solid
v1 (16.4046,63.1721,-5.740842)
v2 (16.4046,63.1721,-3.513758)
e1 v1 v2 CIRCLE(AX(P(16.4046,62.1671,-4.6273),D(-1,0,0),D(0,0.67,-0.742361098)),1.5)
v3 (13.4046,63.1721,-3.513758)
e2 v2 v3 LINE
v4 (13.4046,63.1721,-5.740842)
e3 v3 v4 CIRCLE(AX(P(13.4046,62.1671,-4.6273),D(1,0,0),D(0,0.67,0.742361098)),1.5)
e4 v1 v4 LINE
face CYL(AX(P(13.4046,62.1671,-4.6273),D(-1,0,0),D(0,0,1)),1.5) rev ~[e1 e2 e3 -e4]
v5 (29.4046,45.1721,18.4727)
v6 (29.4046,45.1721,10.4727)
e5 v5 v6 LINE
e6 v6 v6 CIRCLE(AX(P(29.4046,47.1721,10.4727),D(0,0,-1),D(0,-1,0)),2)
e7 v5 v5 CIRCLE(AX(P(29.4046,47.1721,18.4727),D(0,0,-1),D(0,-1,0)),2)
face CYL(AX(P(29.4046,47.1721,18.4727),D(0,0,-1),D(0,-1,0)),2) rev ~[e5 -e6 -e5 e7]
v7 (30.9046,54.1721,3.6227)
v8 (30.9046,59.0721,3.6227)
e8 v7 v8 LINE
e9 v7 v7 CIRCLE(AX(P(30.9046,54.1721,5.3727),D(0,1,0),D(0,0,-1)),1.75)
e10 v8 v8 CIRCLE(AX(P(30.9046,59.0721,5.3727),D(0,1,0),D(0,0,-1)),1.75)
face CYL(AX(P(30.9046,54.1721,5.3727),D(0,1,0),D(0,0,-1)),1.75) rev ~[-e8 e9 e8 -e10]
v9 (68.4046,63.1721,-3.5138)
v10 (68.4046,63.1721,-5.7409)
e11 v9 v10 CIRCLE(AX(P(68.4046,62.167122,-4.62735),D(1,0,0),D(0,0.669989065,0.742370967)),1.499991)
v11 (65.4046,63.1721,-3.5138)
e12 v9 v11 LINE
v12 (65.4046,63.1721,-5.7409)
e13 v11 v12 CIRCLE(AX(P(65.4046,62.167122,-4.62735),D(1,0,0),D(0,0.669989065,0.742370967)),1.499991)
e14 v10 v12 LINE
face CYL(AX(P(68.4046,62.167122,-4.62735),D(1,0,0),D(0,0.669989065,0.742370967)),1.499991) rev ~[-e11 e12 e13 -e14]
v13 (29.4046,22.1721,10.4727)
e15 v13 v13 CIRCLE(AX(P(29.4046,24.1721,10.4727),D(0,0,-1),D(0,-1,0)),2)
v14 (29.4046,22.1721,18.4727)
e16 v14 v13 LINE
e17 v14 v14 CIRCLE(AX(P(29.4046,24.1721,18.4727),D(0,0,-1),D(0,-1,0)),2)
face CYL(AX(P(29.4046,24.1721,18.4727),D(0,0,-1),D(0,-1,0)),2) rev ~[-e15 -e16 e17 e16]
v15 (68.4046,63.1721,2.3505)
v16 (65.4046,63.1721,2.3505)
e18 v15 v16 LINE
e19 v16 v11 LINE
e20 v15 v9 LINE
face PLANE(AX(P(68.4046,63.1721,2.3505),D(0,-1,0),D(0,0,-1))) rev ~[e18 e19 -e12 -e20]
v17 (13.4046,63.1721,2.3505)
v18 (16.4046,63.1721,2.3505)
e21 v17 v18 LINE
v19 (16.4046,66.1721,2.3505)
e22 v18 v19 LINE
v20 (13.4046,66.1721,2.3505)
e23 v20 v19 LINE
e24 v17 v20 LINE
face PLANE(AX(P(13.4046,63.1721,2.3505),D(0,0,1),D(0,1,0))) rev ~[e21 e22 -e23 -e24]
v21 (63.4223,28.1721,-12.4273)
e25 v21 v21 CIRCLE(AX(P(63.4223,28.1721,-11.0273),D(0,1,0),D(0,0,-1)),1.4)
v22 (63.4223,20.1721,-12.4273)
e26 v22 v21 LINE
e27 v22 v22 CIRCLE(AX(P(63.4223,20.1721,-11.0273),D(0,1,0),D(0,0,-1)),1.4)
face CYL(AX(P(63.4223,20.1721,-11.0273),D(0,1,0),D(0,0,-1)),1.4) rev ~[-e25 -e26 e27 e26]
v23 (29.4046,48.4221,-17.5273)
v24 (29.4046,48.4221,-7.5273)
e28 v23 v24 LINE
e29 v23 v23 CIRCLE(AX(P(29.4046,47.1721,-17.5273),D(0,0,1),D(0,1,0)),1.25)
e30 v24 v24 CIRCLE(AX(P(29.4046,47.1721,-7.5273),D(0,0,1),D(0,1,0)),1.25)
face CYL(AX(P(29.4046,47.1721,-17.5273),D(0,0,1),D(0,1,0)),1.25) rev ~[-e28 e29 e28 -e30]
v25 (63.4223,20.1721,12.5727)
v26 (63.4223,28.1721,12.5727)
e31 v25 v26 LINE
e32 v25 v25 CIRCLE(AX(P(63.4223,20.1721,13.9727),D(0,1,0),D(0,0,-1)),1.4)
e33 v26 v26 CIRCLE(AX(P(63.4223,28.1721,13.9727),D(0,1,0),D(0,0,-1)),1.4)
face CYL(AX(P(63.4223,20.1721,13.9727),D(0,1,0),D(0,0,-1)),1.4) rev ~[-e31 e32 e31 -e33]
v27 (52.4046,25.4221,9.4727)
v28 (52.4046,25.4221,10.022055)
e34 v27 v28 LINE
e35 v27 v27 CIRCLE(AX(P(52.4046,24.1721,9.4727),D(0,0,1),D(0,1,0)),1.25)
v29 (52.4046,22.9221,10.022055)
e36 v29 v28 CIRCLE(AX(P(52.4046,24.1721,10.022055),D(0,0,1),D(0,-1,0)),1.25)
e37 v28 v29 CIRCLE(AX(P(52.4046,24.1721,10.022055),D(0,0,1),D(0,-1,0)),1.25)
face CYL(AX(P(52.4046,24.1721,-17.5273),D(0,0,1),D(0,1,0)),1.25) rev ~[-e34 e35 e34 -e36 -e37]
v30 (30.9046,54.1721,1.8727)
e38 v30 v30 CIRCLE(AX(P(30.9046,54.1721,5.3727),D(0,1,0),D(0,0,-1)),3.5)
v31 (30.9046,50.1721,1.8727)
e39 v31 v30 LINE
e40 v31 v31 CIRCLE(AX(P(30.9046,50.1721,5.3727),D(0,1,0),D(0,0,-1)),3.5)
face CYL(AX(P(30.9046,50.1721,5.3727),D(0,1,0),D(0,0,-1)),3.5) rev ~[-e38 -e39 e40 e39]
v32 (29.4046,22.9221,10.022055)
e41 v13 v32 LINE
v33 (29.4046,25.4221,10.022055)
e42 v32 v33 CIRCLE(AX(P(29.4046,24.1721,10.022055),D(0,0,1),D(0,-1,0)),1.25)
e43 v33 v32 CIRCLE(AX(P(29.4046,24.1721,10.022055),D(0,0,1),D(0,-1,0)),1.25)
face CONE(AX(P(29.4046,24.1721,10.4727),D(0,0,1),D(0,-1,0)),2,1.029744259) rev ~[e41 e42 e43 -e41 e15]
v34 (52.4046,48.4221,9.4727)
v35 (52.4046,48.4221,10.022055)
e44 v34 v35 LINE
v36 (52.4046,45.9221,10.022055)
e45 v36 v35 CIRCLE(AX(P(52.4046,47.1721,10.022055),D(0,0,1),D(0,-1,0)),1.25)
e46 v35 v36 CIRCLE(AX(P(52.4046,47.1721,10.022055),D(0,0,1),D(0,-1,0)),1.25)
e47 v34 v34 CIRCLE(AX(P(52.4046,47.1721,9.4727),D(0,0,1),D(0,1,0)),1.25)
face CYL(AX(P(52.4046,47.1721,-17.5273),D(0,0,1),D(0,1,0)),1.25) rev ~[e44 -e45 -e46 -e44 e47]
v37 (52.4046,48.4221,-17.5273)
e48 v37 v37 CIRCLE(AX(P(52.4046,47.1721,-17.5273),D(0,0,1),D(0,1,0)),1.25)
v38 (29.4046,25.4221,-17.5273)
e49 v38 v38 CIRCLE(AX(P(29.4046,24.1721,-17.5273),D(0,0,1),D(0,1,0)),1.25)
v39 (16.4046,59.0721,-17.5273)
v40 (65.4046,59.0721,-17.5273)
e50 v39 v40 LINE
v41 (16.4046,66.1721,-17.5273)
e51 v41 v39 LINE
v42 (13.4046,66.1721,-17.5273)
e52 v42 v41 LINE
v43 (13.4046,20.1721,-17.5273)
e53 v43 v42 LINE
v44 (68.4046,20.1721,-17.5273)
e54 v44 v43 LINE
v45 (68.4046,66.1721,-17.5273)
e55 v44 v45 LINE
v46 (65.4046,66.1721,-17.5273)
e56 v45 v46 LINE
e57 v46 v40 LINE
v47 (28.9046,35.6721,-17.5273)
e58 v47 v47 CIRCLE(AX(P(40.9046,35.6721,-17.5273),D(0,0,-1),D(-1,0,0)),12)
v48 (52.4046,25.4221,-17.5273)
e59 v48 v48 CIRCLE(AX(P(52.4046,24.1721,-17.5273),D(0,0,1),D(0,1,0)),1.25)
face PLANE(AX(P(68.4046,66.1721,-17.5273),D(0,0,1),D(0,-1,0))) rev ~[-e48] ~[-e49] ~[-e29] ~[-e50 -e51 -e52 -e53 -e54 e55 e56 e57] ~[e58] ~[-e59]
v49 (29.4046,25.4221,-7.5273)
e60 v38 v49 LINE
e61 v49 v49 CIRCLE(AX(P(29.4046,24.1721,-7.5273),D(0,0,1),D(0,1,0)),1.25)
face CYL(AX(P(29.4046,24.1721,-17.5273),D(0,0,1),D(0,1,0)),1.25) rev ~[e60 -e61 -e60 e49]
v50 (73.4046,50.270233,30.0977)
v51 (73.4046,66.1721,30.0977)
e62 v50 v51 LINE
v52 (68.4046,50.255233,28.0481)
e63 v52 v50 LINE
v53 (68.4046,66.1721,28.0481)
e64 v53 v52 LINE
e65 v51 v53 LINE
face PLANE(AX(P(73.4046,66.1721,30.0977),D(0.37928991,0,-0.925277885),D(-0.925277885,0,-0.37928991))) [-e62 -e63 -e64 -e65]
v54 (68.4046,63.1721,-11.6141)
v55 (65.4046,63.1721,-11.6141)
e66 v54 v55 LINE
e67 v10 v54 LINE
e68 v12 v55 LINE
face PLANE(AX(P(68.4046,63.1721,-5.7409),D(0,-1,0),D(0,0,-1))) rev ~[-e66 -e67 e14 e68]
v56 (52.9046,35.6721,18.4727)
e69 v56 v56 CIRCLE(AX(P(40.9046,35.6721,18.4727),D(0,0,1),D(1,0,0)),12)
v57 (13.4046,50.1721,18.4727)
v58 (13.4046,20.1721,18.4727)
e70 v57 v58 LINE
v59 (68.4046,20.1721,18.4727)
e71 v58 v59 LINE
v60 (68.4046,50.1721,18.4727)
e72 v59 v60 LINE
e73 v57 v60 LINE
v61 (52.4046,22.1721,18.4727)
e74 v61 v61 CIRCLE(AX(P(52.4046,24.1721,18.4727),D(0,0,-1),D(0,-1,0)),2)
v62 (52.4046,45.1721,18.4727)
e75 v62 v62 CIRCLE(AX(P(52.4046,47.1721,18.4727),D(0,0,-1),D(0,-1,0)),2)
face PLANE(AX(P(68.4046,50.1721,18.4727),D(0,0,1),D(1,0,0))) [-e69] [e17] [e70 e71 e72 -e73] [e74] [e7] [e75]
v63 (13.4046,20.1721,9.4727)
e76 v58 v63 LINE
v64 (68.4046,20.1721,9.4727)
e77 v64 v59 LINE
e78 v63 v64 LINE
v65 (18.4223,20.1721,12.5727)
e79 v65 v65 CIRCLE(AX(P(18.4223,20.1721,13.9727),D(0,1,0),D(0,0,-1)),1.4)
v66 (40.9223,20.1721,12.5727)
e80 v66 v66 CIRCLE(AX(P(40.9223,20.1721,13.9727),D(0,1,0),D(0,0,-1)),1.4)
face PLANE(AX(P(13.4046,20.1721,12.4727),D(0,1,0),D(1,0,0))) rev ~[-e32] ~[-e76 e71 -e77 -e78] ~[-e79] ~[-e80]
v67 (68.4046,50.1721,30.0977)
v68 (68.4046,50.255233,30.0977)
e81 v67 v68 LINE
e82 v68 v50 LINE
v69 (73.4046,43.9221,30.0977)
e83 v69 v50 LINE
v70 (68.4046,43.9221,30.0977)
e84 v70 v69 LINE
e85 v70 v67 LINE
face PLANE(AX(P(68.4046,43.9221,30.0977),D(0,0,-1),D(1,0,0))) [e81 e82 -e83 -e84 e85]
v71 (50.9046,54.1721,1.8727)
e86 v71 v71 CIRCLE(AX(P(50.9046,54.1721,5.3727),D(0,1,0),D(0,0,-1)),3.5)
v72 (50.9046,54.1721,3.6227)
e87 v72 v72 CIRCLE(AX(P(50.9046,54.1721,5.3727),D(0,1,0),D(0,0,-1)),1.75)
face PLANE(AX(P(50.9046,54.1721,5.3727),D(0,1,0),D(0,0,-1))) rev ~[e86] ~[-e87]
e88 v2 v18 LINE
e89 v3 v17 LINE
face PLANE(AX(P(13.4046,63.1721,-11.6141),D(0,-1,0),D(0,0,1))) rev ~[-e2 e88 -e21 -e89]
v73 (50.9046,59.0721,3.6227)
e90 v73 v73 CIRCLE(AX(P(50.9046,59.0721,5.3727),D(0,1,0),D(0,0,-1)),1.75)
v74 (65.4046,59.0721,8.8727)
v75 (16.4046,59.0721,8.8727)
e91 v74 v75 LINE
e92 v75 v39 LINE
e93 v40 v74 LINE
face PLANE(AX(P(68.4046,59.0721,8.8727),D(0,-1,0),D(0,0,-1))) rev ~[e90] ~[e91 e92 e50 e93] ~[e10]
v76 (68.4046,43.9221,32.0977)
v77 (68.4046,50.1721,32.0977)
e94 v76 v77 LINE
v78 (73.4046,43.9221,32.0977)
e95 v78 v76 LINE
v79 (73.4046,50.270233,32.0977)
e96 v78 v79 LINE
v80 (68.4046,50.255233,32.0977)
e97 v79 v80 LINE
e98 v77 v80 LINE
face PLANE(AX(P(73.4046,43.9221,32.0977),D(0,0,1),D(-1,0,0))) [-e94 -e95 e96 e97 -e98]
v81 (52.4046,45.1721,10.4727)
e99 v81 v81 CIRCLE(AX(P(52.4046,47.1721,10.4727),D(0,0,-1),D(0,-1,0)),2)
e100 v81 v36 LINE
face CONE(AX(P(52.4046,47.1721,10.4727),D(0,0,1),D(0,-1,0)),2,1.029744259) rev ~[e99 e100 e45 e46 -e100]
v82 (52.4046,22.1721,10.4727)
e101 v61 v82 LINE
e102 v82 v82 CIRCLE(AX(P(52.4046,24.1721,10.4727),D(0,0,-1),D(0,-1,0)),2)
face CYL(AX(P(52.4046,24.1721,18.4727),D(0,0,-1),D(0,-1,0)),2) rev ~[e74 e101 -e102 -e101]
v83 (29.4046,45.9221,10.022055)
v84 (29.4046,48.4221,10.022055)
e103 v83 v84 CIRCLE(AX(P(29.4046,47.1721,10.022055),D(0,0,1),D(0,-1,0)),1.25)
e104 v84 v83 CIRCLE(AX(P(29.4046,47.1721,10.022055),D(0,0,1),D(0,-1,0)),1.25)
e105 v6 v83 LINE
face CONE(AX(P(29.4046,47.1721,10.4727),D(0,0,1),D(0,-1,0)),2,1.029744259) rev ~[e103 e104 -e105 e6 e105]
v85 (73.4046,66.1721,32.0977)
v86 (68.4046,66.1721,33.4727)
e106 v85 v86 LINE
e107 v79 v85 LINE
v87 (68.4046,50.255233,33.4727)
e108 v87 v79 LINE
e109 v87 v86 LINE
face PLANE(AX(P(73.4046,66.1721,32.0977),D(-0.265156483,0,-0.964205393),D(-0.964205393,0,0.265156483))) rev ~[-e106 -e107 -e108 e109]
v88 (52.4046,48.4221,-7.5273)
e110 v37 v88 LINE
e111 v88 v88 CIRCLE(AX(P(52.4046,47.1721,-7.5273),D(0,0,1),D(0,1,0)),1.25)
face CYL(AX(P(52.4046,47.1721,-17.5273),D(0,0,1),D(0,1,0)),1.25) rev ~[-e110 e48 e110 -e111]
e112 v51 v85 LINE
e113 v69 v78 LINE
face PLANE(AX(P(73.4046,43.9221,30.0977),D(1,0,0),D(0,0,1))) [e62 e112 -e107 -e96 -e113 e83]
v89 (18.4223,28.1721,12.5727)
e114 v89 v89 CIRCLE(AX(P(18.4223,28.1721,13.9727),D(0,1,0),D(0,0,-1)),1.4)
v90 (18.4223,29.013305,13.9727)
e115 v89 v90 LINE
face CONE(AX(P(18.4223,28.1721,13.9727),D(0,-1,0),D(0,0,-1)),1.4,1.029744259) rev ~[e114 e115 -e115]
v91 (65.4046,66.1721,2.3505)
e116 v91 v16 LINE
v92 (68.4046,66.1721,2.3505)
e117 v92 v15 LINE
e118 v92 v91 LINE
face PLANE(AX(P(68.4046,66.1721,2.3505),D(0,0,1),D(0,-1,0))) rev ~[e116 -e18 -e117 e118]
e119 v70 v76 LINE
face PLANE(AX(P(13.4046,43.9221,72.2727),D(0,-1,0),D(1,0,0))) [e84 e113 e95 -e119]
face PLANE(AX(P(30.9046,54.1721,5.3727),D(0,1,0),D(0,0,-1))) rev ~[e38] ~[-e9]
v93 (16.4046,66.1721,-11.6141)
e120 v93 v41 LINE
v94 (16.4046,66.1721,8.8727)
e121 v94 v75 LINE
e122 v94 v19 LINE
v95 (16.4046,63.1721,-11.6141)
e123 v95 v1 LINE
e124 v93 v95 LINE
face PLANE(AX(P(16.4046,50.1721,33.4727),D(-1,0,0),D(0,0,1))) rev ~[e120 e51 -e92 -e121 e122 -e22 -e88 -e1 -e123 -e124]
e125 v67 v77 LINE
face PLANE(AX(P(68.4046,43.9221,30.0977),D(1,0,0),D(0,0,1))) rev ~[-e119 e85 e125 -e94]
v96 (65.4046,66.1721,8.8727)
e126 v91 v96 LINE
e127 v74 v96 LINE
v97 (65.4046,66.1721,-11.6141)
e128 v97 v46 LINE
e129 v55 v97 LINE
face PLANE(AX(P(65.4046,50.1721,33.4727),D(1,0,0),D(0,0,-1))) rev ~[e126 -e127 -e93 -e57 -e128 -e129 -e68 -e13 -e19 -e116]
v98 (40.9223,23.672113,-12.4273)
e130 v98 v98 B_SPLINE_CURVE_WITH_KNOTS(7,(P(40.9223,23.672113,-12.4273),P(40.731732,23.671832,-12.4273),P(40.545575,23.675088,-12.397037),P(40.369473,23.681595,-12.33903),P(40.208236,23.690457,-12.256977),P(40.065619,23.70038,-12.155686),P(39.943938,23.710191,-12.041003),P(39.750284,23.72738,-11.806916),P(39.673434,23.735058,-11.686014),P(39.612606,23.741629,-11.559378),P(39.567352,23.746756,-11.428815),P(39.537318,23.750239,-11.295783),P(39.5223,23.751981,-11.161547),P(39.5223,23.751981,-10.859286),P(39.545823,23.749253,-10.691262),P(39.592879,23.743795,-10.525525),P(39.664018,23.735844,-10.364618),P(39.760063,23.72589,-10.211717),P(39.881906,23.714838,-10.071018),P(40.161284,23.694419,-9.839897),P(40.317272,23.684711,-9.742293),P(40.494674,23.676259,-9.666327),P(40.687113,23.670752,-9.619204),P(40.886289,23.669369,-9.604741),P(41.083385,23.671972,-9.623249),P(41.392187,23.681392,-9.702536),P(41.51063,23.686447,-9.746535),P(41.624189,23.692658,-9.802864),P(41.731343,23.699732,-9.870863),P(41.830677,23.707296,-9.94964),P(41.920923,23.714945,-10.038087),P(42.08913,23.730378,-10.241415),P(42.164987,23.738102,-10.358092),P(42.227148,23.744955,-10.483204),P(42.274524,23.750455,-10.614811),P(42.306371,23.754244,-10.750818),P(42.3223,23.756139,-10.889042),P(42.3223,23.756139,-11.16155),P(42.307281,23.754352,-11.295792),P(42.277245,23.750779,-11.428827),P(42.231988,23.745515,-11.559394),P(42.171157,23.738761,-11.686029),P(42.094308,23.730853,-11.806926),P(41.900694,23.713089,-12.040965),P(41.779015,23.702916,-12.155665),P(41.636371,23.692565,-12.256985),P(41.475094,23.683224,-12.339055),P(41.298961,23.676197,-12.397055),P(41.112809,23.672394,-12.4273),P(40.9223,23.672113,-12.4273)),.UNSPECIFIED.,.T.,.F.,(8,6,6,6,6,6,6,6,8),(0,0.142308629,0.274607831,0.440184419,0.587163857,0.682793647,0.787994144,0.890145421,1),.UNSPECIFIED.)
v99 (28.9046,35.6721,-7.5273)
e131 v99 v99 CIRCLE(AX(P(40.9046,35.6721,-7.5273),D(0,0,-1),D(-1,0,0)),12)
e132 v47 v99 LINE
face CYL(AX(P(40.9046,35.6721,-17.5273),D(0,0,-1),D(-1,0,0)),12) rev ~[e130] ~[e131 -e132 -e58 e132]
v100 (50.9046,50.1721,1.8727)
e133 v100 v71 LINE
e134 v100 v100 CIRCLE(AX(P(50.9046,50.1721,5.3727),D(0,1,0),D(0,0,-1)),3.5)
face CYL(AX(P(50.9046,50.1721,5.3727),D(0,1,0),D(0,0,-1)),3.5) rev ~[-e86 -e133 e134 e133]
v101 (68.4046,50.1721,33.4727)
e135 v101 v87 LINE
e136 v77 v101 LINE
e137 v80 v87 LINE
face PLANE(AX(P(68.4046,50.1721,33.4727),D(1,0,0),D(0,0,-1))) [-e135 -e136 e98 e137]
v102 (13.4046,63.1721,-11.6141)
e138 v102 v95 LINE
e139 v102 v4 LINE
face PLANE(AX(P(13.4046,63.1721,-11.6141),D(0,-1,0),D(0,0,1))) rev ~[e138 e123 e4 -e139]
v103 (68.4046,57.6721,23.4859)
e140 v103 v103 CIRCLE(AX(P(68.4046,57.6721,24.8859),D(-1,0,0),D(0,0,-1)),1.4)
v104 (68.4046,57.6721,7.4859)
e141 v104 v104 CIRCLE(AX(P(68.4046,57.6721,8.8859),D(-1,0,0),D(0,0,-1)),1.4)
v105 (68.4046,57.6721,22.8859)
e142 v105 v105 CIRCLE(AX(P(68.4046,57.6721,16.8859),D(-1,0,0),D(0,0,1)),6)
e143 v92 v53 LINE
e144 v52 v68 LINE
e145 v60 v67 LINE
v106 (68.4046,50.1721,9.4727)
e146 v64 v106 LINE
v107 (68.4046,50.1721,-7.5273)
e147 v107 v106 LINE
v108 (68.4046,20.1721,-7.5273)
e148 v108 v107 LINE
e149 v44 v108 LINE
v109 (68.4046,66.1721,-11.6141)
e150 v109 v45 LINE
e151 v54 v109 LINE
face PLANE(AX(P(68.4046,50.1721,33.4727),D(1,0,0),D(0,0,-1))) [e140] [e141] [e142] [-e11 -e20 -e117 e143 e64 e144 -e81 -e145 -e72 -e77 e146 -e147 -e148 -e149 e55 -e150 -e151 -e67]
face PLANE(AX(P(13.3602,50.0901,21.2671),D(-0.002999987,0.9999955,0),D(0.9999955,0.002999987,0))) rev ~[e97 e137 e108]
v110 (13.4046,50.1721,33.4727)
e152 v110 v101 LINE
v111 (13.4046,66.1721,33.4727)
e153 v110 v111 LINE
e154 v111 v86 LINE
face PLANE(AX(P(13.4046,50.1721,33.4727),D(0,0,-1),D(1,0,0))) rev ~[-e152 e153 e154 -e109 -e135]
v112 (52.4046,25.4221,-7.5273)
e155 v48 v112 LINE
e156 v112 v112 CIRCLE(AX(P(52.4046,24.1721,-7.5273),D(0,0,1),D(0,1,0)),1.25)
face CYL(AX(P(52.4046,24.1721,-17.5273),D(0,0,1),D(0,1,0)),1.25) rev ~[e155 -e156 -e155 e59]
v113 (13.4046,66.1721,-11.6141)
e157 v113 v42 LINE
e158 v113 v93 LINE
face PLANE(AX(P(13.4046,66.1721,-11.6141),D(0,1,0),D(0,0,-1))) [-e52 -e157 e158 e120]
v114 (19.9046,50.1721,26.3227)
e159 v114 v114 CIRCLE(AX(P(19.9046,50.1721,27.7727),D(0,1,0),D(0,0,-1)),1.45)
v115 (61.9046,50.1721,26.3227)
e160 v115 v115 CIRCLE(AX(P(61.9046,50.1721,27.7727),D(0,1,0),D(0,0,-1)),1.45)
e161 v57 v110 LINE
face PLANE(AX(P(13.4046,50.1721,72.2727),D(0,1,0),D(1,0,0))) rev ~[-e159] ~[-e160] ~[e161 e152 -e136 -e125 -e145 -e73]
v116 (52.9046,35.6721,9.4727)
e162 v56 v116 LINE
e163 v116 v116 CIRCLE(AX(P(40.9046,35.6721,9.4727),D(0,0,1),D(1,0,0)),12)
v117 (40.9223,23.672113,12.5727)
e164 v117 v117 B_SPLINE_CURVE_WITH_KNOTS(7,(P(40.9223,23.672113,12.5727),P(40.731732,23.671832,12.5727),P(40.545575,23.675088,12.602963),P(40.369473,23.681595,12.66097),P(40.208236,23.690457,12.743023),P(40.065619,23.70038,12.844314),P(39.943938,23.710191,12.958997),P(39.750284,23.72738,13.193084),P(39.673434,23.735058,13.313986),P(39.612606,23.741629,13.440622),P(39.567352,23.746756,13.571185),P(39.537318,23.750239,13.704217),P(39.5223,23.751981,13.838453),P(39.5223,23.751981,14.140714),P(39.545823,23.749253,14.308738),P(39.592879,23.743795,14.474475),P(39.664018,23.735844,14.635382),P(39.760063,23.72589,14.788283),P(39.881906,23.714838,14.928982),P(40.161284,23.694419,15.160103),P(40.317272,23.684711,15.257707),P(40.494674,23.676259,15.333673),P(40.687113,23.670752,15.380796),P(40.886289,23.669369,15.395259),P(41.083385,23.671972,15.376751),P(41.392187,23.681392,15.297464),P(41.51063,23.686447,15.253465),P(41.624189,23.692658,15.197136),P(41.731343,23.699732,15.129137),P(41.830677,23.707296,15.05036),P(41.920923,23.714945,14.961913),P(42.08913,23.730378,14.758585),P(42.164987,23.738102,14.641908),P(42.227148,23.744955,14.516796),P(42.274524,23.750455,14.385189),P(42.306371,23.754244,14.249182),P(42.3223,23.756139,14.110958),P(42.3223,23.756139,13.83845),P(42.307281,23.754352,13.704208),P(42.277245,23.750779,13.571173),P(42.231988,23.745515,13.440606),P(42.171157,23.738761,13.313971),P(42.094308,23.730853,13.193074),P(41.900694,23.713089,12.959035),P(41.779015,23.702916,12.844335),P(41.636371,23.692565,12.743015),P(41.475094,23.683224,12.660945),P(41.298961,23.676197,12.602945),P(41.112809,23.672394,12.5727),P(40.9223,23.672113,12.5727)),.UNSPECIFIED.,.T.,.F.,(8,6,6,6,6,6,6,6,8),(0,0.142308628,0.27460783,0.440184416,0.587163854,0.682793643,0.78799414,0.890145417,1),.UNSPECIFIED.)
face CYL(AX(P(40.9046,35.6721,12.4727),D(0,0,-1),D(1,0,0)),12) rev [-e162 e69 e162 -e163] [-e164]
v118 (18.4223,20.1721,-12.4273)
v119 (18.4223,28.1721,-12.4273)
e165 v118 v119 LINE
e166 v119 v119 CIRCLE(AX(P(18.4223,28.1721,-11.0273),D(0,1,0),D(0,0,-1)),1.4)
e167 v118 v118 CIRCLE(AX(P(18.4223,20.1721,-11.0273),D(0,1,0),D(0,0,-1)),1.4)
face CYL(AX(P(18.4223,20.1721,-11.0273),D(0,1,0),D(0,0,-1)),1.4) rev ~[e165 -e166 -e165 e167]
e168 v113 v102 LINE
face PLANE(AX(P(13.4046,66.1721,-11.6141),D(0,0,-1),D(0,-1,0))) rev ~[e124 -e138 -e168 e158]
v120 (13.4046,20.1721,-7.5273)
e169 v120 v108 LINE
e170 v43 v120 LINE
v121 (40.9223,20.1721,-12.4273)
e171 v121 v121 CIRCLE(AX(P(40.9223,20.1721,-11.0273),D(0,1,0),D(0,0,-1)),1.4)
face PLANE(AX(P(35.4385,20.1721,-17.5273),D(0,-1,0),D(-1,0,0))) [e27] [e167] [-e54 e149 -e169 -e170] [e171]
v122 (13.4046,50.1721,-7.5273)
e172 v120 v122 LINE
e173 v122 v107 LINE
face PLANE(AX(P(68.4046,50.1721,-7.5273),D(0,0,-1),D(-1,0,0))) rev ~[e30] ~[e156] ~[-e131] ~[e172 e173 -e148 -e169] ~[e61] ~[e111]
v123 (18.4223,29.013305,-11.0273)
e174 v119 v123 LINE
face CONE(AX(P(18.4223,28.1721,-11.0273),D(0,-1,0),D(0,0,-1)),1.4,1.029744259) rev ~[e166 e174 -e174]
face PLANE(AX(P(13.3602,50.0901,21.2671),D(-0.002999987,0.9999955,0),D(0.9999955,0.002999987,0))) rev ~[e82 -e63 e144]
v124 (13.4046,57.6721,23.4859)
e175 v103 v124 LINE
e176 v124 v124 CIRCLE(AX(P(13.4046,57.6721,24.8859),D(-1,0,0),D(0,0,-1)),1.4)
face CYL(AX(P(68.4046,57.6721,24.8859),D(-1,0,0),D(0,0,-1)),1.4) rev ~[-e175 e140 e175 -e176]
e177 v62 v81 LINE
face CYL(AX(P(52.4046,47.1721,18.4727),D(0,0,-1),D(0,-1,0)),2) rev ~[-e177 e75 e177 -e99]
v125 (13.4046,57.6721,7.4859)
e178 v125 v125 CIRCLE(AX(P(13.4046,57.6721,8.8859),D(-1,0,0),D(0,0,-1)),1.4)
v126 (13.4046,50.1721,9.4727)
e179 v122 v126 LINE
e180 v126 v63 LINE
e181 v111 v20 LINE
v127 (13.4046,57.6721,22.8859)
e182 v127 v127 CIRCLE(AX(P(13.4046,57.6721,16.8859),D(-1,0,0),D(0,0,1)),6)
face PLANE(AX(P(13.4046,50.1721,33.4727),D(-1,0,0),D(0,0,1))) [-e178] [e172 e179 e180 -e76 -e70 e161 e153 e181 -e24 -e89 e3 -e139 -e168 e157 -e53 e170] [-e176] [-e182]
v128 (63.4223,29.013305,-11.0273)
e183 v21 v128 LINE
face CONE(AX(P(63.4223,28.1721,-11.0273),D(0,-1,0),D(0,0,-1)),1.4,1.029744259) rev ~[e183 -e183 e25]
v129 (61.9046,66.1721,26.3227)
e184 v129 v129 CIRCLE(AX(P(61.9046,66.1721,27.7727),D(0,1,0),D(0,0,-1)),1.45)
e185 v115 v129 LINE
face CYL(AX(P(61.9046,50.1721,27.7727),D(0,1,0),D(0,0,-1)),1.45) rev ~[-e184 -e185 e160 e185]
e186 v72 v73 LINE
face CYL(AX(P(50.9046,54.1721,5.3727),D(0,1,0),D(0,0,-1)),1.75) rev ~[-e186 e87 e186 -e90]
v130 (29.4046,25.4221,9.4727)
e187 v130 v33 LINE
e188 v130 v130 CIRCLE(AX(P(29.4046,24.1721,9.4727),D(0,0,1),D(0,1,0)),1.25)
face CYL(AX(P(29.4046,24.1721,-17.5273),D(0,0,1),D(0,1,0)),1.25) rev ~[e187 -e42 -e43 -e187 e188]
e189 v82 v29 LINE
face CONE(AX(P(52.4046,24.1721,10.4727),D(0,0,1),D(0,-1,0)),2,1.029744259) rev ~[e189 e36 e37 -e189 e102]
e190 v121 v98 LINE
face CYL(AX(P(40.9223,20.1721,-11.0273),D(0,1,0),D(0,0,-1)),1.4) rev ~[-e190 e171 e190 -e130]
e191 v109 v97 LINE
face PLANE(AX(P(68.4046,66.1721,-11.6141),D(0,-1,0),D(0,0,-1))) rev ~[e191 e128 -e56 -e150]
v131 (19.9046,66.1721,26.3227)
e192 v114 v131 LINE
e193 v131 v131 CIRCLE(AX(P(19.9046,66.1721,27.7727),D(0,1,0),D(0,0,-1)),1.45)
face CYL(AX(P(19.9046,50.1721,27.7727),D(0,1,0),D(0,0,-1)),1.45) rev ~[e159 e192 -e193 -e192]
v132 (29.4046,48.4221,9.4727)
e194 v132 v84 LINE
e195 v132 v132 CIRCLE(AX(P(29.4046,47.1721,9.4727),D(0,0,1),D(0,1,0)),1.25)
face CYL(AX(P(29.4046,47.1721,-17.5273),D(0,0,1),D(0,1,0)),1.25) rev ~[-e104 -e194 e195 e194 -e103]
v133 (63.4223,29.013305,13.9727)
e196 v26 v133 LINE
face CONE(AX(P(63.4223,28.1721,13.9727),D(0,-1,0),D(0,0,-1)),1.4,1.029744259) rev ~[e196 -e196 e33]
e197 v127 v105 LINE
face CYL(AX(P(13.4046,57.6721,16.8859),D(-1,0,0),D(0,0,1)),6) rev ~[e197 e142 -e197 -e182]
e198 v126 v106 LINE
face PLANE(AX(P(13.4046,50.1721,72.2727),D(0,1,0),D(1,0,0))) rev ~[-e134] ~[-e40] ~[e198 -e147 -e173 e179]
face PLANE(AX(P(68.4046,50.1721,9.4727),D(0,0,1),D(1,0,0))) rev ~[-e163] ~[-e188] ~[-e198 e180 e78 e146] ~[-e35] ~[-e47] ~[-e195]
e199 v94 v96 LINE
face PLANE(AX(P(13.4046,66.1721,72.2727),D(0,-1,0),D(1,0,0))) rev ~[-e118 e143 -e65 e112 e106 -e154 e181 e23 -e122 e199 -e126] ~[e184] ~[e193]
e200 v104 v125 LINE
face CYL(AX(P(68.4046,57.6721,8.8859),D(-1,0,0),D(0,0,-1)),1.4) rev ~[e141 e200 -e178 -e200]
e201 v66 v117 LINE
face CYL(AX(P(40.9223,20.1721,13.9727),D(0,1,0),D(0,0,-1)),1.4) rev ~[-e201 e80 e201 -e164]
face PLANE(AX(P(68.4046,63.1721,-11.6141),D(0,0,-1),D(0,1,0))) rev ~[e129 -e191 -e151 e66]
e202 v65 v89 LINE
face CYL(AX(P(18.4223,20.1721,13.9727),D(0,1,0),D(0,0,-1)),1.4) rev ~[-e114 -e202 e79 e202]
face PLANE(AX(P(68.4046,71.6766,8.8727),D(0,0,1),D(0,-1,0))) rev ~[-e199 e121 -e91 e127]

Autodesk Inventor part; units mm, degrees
ref_plane "YZ Plane" through (0, 0, 0) normal (1, 0, 0) x (0, 1, 0)
ref_plane "Work Plane5" through (13.4046, 50.1721, 72.2727) normal (0, 1, 0) x (1, 0, 0)
sketch "Sketch7" plane through (13.4046, 50.1721, 72.2727) normal (0, 1, 0) x (1, 0, 0)
  circle A0 centre (6.5, 6.5) radius 2.5 construction
  circle A1 centre (48.5, 6.5) radius 2.5 construction
  line L0 (55, 2) -> (55, 11) construction
  line L1 (55, 35) -> (55, 44) construction
  circle A2 centre (48.5, 39.5) radius 2.5 construction
  circle A3 centre (6.5, 39.5) radius 2.5 construction
  line L2 (0, 35) -> (0, 44) construction
  line L3 (16.5, 85.8) -> (16.5, 84) construction
  line L4 (38.5, 85.8) -> (38.5, 84) construction
  line L5 (38.5, 84) -> (16.5, 84) construction
  line L6 (2, 0) -> (53, 0) construction
  line L7 (0, 38.8) -> (55, 38.8)
  line L8 (55, 38.8) -> (55, 85.8)
  line L9 (55, 85.8) -> (0, 85.8)
  line L10 (0, 85.8) -> (0, 38.8)
  line L11 (0, 85.8) -> (55, 85.8)
  line L12 (55, 85.8) -> (55, 89.8)
  line L13 (55, 89.8) -> (0, 89.8)
  line L14 (0, 89.8) -> (0, 85.8)
  point P0 (-13.4046, 72.2727)
  dimension "d112" = 47
  dimension "d115" = 4
extrude "Extrusion7" add sketch "Sketch7" along normal blind 16
sketch "Sketch8" plane through (13.4046, 50.1721, -13.5273) normal (-1, 0, 0) x (0, 0, 1)
  circle A0 centre (50.2042, 7.5) radius 2.3
  circle A1 centre (30.4132, 7.5) radius 6
  point P0 (13.5273, -50.1721)
  dimension "d77" = 12
extrude "Extrusion8" cut sketch "Sketch8" against normal through all contours A1
sketch "Sketch9" plane through (13.4046, 50.1721, 72.2727) normal (0, -1, 0) x (1, 0, 0)
  circle A0 centre (48.5, -44.5) radius 2.5
  circle A1 centre (6.5, -44.5) radius 2.5
  ellipse E0 centre (6.4724, -21.5) end of major axis (6.4724, -19) minor radius 2.5
  ellipse E1 centre (48.4722, -21.5) end of major axis (48.4722, -19) minor radius 2.5
  point P0 (-13.4046, -72.2727)
  point P1 (6.5, -6.5)
  point P2 (48.5, -6.5)
hole "Hole1" at (19.9046, 50.1721, 65.7727) at (61.9046, 50.1721, 65.7727) at (61.9046, 50.1721, 27.7727) at (19.9046, 50.1721, 27.7727) at (61.8768, 50.1721, 50.7727) at (19.877, 50.1721, 50.7727) direction (0, 1, 0) diameter 2.9 end through all
sketch "Sketch10" plane through (68.4046, 50.1721, -17.5273) normal (0, 0, -1) x (-1, 0, 0)
  circle A0 centre (39, -26) radius 1
  circle A1 centre (16, -26) radius 1
  circle A2 centre (16, -3) radius 1
  circle A3 centre (39, -3) radius 1.1
  circle A4 centre (27.5, -14.5) radius 12
  circle A5 centre (27.5, -14.5) radius 10.8
  line L0 (55, 0) -> (0, 0) projected
  line L1 (11.5, -29) -> (43.5, -29)
  line L2 (43.5, -29) -> (43.5, 0)
  line L3 (43.5, 0) -> (11.5, 0)
  line L4 (11.5, 0) -> (11.5, -29)
  line L5 (11.5, -29) -> (43.5, 0) construction
  line L6 (43.5, -29) -> (11.5, 0) construction
  line L7 (0, 0) -> (11.5, 0)
  line L8 (43.5, 0) -> (55, 0)
  line L9 (55, 0) -> (43.5, 0)
  line L10 (43.5, 0) -> (43.5, -29)
  line L11 (43.5, -29) -> (55, -29)
  line L12 (55, -29) -> (55, 0)
  line L13 (11.5, -29) -> (0, -29)
  line L14 (0, -29) -> (0, 0)
  line L15 (0, 0) -> (11.5, 0)
  line L16 (11.5, 0) -> (11.5, -29)
  circle A6 centre (47.5, -14.5) radius 3 construction
  circle A7 centre (7.5, -14.5) radius 3 construction
  circle A8 centre (47.5, -14.5) radius 3.1
  circle A9 centre (7.5, -14.5) radius 3.1
  line L17 (21.9985, -30) -> (32.9661, -30)
  line L18 (55, -29) -> (0, -29)
  line L19 (0, -29) -> (0, -30)
  line L20 (0, -30) -> (55, -30)
  line L21 (55, -30) -> (55, -29)
  point P0 (68.4046, -50.1721)
  dimension "d50" = 24
  dimension "d51" = 32
  dimension "d67" = 6.2
  dimension "d68" = 6.2
extrude "Extrusion9" add sketch "Sketch10" against normal blind 10 contours L12 L11 L2 L0 | L2 L1 L4 L0 | L21 L20 L17 L19 L13 L1 L11 | L4 L13 L14 L0 | A8 | A9
sketch "Sketch15" plane through (68.4046, 50.1721, 33.4727) normal (1, 0, 0) x (0, 0, -1)
  line L0 (41, 0) -> (0, 0) projected
  line L1 (0, 16) -> (51, 16) projected
  line L2 (0, 0) -> (0, 16) projected
  line L3 (51, 16) -> (0, 16) projected
  line L4 (28, 16) -> (0, 16)
  line L5 (0, 16) -> (0, 7)
  line L6 (0, 7) -> (28, 7)
  line L7 (51, 9) -> (44.5, 9) construction
  line L8 (24.9, 18.4) -> (24.9, 10.6) construction
  line L9 (55.3238, 21.5045) -> (24.6, 21.5045)
  line L10 (24.6, 21.5045) -> (24.6, 8.9)
  line L11 (24.6, 8.9) -> (55.3238, 8.9)
  line L12 (55.3238, 8.9) -> (55.3238, 21.5045)
  line L13 (51, -30) -> (51, 16) projected
  line L14 (41, -30) -> (41, 0) projected
  line L15 (51, -30) -> (41, -30) projected
  point P0 (33.4727, -50.1721)
  point P1 (47, 16)
  dimension "d73" = 7
  dimension "d113" = 0.1
  dimension "d114" = 0.3
extrude "Extrusion12" cut sketch "Sketch15" against normal through all contours L13 L1 L10 L9 L12 L11 | L11 L10 L1 L13
sketch "Sketch17" plane through (13.4046, 50.1721, 72.2727) normal (0, -1, 0) x (1, 0, 0)
  circle A0 centre (37.5, -66.9) radius 1.5
  circle A1 centre (17.5, -66.9) radius 1.25
  circle A2 centre (17.5, -86.9) radius 1.25
  circle A3 centre (37.5, -86.9) radius 1.25
  point P0 (-13.4046, -72.2727)
hole "Hole4" at (50.9046, 50.1721, 5.3727) at (30.9046, 50.1721, 5.3727) direction (0, 1, 0) diameter 3.5 end through all counterbore diameter 7 counterbore depth 4
ref_plane "Work Plane8" through (68.4046, 50.1721, 12.4727) normal (0, 0, 1) x (1, 0, 0)
sketch "Sketch18" plane through (68.4046, 50.1721, 12.4727) normal (0, 0, 1) x (1, 0, 0)
  circle A0 centre (-27.5, -14.5) radius 12 projected
  circle A1 centre (-39, -3) radius 1.1 projected
  circle A2 centre (-16, -3) radius 1 projected
  circle A3 centre (-16, -26) radius 1 projected
  circle A4 centre (-39, -26) radius 1 projected
  line L0 (0, -30) -> (0, 0) projected
  line L1 (-55, 0) -> (0, 0) projected
  line L2 (-55, 0) -> (-55, -30) projected
  line L3 (-55, -30) -> (0, -30) projected
  point P0 (-68.4046, -50.1721)
extrude "Extrusion13" add sketch "Sketch18" along normal blind 6 and the other way blind 3
sketch "Sketch23" plane through (13.4046, 50.1721, 33.4727) normal (-1, 0, 0) x (0, 0, 1)
  line L0 (-24.6, 8.9) -> (-51, 8.9) projected
  line L1 (-51, 8.9) -> (-51, -30) projected
  line L2 (-41, 0) -> (-41, -30) projected
  line L3 (-24, 0) -> (-41, 0) projected
  line L4 (0, 0) -> (0, 16) projected
  line L5 (-24.6, 16) -> (0, 16) projected
  line L6 (-24.6, 16) -> (-24.6, 8.9) projected
  circle A0 centre (-16.5868, 7.5) radius 6 projected
  line L7 (-24.6, 16) -> (-51, 16)
  line L8 (-51, 16) -> (-51, 8.9)
  line L9 (-51, 8.9) -> (-24.6, 8.9)
  line L10 (-24.6, 8.9) -> (-24.6, 16)
  line L11 (-31.1222, 16) -> (-45.0868, 16)
  line L12 (-45.0868, 16) -> (-45.0868, 13)
  line L13 (-45.0868, 13) -> (-31.1222, 13)
  line L14 (-31.1222, 13) -> (-31.1222, 16)
  line L15 (-32.6207, 14) -> (-43.5883, 14)
  line L16 (-32.1222, 15.1785) -> (-32.1221, 14.4985)
  line L17 (-43.5883, 14) -> (-44.0868, 14.4985)
  circle A1 centre (-31.2, 11.995) radius 2.1 construction
  circle A2 centre (-45, 11.995) radius 2.1 construction
  line L18 (-24, -30) -> (-24, 0) projected
  line L19 (-15, 0) -> (-15, -30) projected
  line L20 (0, 0) -> (-15, 0) projected
  line L21 (-51, -30) -> (-41, -30) projected
  line L22 (-15, -30) -> (-24, -30) projected
  point P0 (-33.4727, -50.1721)
  dimension "d116" = 1
  dimension "d117" = 1
  dimension "d118" = 1
extrude "Extrusion18" add sketch "Sketch23" against normal blind 3 contours L0 L8 L7 L12 L13 L14 L6
sketch "Sketch24" plane through (13.4046, 50.1721, 33.4727) normal (-1, 0, 0) x (0, 0, 1)
  circle A0 centre (-45, 11.995) radius 2.1
  circle A1 centre (-31.2, 11.995) radius 2.1
  circle A2 centre (-38.1, 11.995) radius 1.5
  point P0 (-33.4727, -50.1721)
  dimension "d121" = 3
  dimension "d122" = 6.9
extrude "Extrusion19" cut sketch "Sketch24" against normal through all contours A2
sketch "Sketch25" plane through (68.4046, 50.1721, 33.4727) normal (1, 0, 0) x (0, 0, -1)
  circle A0 centre (16.5868, 7.5) radius 6 projected
  arc A1 (36.9865, 13) -> (39.2136, 13) centre (38.1, 11.995) ccw projected
  line L0 (39.2136, 13) -> (45.0868, 13) projected
  line L1 (45.0868, 13) -> (45.0868, 16) projected
  line L2 (45.0868, 16) -> (51, 16) projected
  line L3 (51, 16) -> (51, -30) projected
  line L4 (41, 0) -> (41, -30) projected
  line L5 (24, 0) -> (41, 0) projected
  line L6 (0, 0) -> (0, 16) projected
  line L7 (31.1222, 16) -> (0, 16) projected
  line L8 (31.1222, 16) -> (31.1222, 13) projected
  line L9 (31.1222, 13) -> (36.9865, 13) projected
  line L10 (51, 8.9) -> (47.0344, 8.9) projected
  line L11 (51, 8.9) -> (24.5983, 8.9)
  line L12 (24.5983, 8.9) -> (24.5983, 16)
  line L13 (24, -30) -> (24, 0) projected
  line L14 (15, 0) -> (15, -30) projected
  line L15 (0, 0) -> (15, 0) projected
  line L16 (51, -30) -> (41, -30) projected
  line L17 (15, -30) -> (24, -30) projected
  point P0 (33.4727, -50.1721)
extrude "Extrusion20" add sketch "Sketch25" against normal blind 3 contours A1 L0 L1 L2 L3 L10 L11 L12 L7 L8 L9
sketch "Sketch26" plane through (68.4046, 50.1721, 33.4727) normal (1, 0, 0) x (0, 0, -1)
  circle A0 centre (24.5868, 7.5) radius 1.625
  circle A1 centre (8.5868, 7.5) radius 1.625
  point P0 (33.4727, -50.1721)
hole "Hole5" at (68.4046, 57.6721, 8.8859) at (68.4046, 57.6721, 24.8859) direction (-1, 0, 0) diameter 2.8 end through all
sketch "Sketch28" plane through (68.4046, 50.1721, 18.4727) normal (0, 0, 1) x (1, 0, 0)
  circle A0 centre (-27.5, -14.5) radius 12 projected
  circle A1 centre (-39, -3) radius 1.1 projected
  circle A2 centre (-39, -26) radius 1 projected
  circle A3 centre (-16, -26) radius 1 projected
  circle A4 centre (-16, -3) radius 1 projected
  line L0 (0, -30) -> (0, 0) projected
  line L1 (-55, 0) -> (0, 0) projected
  line L2 (-55, 0) -> (-55, -30) projected
  line L3 (-55, -30) -> (0, -30) projected
  point P0 (-68.4046, -50.1721)
hole "Hole7" at (52.4046, 24.1721, 18.4727) at (29.4046, 24.1721, 18.4727) at (29.4046, 47.1721, 18.4727) at (52.4046, 47.1721, 18.4727) direction (0, 0, -1) diameter 4 depth 8 tip angle 118
sketch "Sketch29" plane through (13.4046, 20.1721, -17.5273) normal (0, -1, 0) x (1, 0, 0)
  line L0 (0, 0) -> (55, 0) projected
  line L1 (55, 0) -> (55, 10) projected
  line L2 (0, 10) -> (55, 10) projected
  line L3 (0, 0) -> (0, 10) projected
  line L4 (55, 36) -> (55, 27) projected
  line L5 (0, 36) -> (55, 36) projected
  line L6 (0, 36) -> (0, 27) projected
  line L7 (55, 27) -> (0, 27) projected
  arc A0 (29.113, 42.4017) -> (29.113, 40.9628) centre (27.5177, 41.6823) ccw
  circle A1 centre (27.5177, 31.5) radius 1.4
  circle A2 centre (27.5177, 6.5) radius 1.4
  line L8 (50.0177, 6.5) -> (5.0177, 6.5)
  line L9 (5.0177, 6.5) -> (5.0177, 31.5)
  line L10 (5.0177, 31.5) -> (50.0177, 31.5)
  line L11 (50.0177, 31.5) -> (50.0177, 6.5)
  line L12 (50.0177, 6.5) -> (5.0177, 31.5) construction
  line L13 (5.0177, 6.5) -> (50.0177, 31.5) construction
  point P0 (-13.4046, 17.5273)
  point P1 (27.5177, 19)
  dimension "d150" = 2.8
  dimension "d151" = 2.8
  dimension "d152" = 45
  dimension "d153" = 25
hole "Hole8" at (18.4223, 20.1721, 13.9727) at (40.9223, 20.1721, 13.9727) at (63.4223, 20.1721, 13.9727) at (63.4223, 20.1721, -11.0273) at (40.9223, 20.1721, -11.0273) at (18.4223, 20.1721, -11.0273) direction (0, 1, 0) diameter 2.8 depth 8 tip angle 118
sketch "Sketch30" plane through (13.4046, 50.1721, 72.2727) normal (0, -1, 0) x (1, 0, 0)
  circle A0 centre (6.5, -44.5) radius 1.45 projected
  circle A1 centre (48.5, -44.5) radius 1.45 projected
  line L0 (0, -53.8) -> (55, -53.8) projected
  line L1 (55, -53.8) -> (55, -38.8) projected
  line L2 (0, -38.8) -> (55, -38.8) projected
  line L3 (0, -38.8) -> (0, -53.8) projected
  line L4 (55, -53.8) -> (55, -38.8) projected
  line L5 (55, -42.175) -> (60, -42.175)
  line L6 (60, -42.175) -> (60, -40.175)
  line L7 (60, -40.175) -> (55, -40.175)
  line L8 (55, -40.175) -> (55, -42.175)
  point P0 (-13.4046, -72.2727)
  dimension "d161" = 5
  dimension "d162" = 2
ref_plane "Work Plane9" through (67.562, 43.9221, 32.5482) normal (0, -1, 0) x (1, 0, 0)
extrude "Extrusion21" add sketch "Sketch30" against normal up to surface (22.25 mm away) from surface at 6.25 contours L1 L7 L6 L5
sketch "Sketch31" plane through (13.4046, 66.1721, 72.2727) normal (0, 1, 0) x (1, 0, 0)
  circle A0 centre (48.5, 44.5) radius 1.45 projected
  circle A1 centre (6.5, 44.5) radius 1.45 projected
  line L0 (55, 38.8) -> (55, 40.175) projected
  line L1 (60, 40.175) -> (55, 40.175) projected
  line L2 (60, 42.175) -> (60, 40.175) projected
  line L3 (55, 42.175) -> (60, 42.175) projected
  line L4 (55, 42.175) -> (55, 69.9222) projected
  line L5 (55, 69.9222) -> (52, 69.9222) construction
  line L6 (52, 63.4) -> (52, 69.9222) construction
  line L7 (52, 63.4) -> (3, 63.4) projected
  line L8 (3, 69.9222) -> (3, 63.4) projected
  line L9 (3, 69.9222) -> (0, 69.9222) projected
  line L10 (0, 69.9222) -> (0, 38.8) projected
  line L11 (0, 38.8) -> (55, 38.8) projected
  line L12 (60, 40.175) -> (55, 40.175) projected
  line L13 (0, 38.8) -> (55, 38.8) projected
  line L14 (60, 40.175) -> (55, 38.8)
  line L15 (55, 38.8) -> (55, 44.5)
  line L16 (55, 42.175) -> (60, 42.175) projected
  line L17 (60, 42.175) -> (55, 44.2246)
  point P0 (-13.4046, 72.2727)
ref_plane "Work Plane10" through (13.3602, 50.0901, 21.2671) normal (-0.003, 1, 0) x (0, 0, 1)
extrude "Extrusion22" add sketch "Sketch31" against normal up to surface contours L0 L1 L14 | L15 L3 L2 L1 | L4 L17 L3 surface through (13.3602, 50.0901, 21.2671) normal (-0.003, 1, 0)
sketch "Sketch32" plane through (68.4046, 20.1721, -17.5273) normal (0, 0, -1) x (-1, 0, 0)
  line L0 (52, 38.9) -> (3, 38.9) projected
  line L1 (3, 46) -> (3, 38.9) projected
  line L2 (0, 46) -> (3, 46) projected
  line L3 (0, 0) -> (0, 46) projected
  line L4 (55, 0) -> (0, 0) projected
  line L5 (55, 46) -> (55, 0) projected
  line L6 (55, 46) -> (52, 46) projected
  line L7 (52, 38.9) -> (52, 46) projected
  circle A0 centre (39, 4) radius 1 projected
  circle A1 centre (16, 4) radius 1 projected
  circle A2 centre (16, 27) radius 1 projected
  circle A3 centre (39, 27) radius 1.1 projected
  circle A4 centre (27.5, 15.5) radius 12 projected
  point P0 (68.4046, -20.1721)
hole "Hole9" at (29.4046, 47.1721, -17.5273) at (29.4046, 24.1721, -17.5273) at (52.4046, 24.1721, -17.5273) at (52.4046, 47.1721, -17.5273) direction (0, 0, 1) diameter 2.5 end through all
properties part number "01_Slide_camera_x_v0"
